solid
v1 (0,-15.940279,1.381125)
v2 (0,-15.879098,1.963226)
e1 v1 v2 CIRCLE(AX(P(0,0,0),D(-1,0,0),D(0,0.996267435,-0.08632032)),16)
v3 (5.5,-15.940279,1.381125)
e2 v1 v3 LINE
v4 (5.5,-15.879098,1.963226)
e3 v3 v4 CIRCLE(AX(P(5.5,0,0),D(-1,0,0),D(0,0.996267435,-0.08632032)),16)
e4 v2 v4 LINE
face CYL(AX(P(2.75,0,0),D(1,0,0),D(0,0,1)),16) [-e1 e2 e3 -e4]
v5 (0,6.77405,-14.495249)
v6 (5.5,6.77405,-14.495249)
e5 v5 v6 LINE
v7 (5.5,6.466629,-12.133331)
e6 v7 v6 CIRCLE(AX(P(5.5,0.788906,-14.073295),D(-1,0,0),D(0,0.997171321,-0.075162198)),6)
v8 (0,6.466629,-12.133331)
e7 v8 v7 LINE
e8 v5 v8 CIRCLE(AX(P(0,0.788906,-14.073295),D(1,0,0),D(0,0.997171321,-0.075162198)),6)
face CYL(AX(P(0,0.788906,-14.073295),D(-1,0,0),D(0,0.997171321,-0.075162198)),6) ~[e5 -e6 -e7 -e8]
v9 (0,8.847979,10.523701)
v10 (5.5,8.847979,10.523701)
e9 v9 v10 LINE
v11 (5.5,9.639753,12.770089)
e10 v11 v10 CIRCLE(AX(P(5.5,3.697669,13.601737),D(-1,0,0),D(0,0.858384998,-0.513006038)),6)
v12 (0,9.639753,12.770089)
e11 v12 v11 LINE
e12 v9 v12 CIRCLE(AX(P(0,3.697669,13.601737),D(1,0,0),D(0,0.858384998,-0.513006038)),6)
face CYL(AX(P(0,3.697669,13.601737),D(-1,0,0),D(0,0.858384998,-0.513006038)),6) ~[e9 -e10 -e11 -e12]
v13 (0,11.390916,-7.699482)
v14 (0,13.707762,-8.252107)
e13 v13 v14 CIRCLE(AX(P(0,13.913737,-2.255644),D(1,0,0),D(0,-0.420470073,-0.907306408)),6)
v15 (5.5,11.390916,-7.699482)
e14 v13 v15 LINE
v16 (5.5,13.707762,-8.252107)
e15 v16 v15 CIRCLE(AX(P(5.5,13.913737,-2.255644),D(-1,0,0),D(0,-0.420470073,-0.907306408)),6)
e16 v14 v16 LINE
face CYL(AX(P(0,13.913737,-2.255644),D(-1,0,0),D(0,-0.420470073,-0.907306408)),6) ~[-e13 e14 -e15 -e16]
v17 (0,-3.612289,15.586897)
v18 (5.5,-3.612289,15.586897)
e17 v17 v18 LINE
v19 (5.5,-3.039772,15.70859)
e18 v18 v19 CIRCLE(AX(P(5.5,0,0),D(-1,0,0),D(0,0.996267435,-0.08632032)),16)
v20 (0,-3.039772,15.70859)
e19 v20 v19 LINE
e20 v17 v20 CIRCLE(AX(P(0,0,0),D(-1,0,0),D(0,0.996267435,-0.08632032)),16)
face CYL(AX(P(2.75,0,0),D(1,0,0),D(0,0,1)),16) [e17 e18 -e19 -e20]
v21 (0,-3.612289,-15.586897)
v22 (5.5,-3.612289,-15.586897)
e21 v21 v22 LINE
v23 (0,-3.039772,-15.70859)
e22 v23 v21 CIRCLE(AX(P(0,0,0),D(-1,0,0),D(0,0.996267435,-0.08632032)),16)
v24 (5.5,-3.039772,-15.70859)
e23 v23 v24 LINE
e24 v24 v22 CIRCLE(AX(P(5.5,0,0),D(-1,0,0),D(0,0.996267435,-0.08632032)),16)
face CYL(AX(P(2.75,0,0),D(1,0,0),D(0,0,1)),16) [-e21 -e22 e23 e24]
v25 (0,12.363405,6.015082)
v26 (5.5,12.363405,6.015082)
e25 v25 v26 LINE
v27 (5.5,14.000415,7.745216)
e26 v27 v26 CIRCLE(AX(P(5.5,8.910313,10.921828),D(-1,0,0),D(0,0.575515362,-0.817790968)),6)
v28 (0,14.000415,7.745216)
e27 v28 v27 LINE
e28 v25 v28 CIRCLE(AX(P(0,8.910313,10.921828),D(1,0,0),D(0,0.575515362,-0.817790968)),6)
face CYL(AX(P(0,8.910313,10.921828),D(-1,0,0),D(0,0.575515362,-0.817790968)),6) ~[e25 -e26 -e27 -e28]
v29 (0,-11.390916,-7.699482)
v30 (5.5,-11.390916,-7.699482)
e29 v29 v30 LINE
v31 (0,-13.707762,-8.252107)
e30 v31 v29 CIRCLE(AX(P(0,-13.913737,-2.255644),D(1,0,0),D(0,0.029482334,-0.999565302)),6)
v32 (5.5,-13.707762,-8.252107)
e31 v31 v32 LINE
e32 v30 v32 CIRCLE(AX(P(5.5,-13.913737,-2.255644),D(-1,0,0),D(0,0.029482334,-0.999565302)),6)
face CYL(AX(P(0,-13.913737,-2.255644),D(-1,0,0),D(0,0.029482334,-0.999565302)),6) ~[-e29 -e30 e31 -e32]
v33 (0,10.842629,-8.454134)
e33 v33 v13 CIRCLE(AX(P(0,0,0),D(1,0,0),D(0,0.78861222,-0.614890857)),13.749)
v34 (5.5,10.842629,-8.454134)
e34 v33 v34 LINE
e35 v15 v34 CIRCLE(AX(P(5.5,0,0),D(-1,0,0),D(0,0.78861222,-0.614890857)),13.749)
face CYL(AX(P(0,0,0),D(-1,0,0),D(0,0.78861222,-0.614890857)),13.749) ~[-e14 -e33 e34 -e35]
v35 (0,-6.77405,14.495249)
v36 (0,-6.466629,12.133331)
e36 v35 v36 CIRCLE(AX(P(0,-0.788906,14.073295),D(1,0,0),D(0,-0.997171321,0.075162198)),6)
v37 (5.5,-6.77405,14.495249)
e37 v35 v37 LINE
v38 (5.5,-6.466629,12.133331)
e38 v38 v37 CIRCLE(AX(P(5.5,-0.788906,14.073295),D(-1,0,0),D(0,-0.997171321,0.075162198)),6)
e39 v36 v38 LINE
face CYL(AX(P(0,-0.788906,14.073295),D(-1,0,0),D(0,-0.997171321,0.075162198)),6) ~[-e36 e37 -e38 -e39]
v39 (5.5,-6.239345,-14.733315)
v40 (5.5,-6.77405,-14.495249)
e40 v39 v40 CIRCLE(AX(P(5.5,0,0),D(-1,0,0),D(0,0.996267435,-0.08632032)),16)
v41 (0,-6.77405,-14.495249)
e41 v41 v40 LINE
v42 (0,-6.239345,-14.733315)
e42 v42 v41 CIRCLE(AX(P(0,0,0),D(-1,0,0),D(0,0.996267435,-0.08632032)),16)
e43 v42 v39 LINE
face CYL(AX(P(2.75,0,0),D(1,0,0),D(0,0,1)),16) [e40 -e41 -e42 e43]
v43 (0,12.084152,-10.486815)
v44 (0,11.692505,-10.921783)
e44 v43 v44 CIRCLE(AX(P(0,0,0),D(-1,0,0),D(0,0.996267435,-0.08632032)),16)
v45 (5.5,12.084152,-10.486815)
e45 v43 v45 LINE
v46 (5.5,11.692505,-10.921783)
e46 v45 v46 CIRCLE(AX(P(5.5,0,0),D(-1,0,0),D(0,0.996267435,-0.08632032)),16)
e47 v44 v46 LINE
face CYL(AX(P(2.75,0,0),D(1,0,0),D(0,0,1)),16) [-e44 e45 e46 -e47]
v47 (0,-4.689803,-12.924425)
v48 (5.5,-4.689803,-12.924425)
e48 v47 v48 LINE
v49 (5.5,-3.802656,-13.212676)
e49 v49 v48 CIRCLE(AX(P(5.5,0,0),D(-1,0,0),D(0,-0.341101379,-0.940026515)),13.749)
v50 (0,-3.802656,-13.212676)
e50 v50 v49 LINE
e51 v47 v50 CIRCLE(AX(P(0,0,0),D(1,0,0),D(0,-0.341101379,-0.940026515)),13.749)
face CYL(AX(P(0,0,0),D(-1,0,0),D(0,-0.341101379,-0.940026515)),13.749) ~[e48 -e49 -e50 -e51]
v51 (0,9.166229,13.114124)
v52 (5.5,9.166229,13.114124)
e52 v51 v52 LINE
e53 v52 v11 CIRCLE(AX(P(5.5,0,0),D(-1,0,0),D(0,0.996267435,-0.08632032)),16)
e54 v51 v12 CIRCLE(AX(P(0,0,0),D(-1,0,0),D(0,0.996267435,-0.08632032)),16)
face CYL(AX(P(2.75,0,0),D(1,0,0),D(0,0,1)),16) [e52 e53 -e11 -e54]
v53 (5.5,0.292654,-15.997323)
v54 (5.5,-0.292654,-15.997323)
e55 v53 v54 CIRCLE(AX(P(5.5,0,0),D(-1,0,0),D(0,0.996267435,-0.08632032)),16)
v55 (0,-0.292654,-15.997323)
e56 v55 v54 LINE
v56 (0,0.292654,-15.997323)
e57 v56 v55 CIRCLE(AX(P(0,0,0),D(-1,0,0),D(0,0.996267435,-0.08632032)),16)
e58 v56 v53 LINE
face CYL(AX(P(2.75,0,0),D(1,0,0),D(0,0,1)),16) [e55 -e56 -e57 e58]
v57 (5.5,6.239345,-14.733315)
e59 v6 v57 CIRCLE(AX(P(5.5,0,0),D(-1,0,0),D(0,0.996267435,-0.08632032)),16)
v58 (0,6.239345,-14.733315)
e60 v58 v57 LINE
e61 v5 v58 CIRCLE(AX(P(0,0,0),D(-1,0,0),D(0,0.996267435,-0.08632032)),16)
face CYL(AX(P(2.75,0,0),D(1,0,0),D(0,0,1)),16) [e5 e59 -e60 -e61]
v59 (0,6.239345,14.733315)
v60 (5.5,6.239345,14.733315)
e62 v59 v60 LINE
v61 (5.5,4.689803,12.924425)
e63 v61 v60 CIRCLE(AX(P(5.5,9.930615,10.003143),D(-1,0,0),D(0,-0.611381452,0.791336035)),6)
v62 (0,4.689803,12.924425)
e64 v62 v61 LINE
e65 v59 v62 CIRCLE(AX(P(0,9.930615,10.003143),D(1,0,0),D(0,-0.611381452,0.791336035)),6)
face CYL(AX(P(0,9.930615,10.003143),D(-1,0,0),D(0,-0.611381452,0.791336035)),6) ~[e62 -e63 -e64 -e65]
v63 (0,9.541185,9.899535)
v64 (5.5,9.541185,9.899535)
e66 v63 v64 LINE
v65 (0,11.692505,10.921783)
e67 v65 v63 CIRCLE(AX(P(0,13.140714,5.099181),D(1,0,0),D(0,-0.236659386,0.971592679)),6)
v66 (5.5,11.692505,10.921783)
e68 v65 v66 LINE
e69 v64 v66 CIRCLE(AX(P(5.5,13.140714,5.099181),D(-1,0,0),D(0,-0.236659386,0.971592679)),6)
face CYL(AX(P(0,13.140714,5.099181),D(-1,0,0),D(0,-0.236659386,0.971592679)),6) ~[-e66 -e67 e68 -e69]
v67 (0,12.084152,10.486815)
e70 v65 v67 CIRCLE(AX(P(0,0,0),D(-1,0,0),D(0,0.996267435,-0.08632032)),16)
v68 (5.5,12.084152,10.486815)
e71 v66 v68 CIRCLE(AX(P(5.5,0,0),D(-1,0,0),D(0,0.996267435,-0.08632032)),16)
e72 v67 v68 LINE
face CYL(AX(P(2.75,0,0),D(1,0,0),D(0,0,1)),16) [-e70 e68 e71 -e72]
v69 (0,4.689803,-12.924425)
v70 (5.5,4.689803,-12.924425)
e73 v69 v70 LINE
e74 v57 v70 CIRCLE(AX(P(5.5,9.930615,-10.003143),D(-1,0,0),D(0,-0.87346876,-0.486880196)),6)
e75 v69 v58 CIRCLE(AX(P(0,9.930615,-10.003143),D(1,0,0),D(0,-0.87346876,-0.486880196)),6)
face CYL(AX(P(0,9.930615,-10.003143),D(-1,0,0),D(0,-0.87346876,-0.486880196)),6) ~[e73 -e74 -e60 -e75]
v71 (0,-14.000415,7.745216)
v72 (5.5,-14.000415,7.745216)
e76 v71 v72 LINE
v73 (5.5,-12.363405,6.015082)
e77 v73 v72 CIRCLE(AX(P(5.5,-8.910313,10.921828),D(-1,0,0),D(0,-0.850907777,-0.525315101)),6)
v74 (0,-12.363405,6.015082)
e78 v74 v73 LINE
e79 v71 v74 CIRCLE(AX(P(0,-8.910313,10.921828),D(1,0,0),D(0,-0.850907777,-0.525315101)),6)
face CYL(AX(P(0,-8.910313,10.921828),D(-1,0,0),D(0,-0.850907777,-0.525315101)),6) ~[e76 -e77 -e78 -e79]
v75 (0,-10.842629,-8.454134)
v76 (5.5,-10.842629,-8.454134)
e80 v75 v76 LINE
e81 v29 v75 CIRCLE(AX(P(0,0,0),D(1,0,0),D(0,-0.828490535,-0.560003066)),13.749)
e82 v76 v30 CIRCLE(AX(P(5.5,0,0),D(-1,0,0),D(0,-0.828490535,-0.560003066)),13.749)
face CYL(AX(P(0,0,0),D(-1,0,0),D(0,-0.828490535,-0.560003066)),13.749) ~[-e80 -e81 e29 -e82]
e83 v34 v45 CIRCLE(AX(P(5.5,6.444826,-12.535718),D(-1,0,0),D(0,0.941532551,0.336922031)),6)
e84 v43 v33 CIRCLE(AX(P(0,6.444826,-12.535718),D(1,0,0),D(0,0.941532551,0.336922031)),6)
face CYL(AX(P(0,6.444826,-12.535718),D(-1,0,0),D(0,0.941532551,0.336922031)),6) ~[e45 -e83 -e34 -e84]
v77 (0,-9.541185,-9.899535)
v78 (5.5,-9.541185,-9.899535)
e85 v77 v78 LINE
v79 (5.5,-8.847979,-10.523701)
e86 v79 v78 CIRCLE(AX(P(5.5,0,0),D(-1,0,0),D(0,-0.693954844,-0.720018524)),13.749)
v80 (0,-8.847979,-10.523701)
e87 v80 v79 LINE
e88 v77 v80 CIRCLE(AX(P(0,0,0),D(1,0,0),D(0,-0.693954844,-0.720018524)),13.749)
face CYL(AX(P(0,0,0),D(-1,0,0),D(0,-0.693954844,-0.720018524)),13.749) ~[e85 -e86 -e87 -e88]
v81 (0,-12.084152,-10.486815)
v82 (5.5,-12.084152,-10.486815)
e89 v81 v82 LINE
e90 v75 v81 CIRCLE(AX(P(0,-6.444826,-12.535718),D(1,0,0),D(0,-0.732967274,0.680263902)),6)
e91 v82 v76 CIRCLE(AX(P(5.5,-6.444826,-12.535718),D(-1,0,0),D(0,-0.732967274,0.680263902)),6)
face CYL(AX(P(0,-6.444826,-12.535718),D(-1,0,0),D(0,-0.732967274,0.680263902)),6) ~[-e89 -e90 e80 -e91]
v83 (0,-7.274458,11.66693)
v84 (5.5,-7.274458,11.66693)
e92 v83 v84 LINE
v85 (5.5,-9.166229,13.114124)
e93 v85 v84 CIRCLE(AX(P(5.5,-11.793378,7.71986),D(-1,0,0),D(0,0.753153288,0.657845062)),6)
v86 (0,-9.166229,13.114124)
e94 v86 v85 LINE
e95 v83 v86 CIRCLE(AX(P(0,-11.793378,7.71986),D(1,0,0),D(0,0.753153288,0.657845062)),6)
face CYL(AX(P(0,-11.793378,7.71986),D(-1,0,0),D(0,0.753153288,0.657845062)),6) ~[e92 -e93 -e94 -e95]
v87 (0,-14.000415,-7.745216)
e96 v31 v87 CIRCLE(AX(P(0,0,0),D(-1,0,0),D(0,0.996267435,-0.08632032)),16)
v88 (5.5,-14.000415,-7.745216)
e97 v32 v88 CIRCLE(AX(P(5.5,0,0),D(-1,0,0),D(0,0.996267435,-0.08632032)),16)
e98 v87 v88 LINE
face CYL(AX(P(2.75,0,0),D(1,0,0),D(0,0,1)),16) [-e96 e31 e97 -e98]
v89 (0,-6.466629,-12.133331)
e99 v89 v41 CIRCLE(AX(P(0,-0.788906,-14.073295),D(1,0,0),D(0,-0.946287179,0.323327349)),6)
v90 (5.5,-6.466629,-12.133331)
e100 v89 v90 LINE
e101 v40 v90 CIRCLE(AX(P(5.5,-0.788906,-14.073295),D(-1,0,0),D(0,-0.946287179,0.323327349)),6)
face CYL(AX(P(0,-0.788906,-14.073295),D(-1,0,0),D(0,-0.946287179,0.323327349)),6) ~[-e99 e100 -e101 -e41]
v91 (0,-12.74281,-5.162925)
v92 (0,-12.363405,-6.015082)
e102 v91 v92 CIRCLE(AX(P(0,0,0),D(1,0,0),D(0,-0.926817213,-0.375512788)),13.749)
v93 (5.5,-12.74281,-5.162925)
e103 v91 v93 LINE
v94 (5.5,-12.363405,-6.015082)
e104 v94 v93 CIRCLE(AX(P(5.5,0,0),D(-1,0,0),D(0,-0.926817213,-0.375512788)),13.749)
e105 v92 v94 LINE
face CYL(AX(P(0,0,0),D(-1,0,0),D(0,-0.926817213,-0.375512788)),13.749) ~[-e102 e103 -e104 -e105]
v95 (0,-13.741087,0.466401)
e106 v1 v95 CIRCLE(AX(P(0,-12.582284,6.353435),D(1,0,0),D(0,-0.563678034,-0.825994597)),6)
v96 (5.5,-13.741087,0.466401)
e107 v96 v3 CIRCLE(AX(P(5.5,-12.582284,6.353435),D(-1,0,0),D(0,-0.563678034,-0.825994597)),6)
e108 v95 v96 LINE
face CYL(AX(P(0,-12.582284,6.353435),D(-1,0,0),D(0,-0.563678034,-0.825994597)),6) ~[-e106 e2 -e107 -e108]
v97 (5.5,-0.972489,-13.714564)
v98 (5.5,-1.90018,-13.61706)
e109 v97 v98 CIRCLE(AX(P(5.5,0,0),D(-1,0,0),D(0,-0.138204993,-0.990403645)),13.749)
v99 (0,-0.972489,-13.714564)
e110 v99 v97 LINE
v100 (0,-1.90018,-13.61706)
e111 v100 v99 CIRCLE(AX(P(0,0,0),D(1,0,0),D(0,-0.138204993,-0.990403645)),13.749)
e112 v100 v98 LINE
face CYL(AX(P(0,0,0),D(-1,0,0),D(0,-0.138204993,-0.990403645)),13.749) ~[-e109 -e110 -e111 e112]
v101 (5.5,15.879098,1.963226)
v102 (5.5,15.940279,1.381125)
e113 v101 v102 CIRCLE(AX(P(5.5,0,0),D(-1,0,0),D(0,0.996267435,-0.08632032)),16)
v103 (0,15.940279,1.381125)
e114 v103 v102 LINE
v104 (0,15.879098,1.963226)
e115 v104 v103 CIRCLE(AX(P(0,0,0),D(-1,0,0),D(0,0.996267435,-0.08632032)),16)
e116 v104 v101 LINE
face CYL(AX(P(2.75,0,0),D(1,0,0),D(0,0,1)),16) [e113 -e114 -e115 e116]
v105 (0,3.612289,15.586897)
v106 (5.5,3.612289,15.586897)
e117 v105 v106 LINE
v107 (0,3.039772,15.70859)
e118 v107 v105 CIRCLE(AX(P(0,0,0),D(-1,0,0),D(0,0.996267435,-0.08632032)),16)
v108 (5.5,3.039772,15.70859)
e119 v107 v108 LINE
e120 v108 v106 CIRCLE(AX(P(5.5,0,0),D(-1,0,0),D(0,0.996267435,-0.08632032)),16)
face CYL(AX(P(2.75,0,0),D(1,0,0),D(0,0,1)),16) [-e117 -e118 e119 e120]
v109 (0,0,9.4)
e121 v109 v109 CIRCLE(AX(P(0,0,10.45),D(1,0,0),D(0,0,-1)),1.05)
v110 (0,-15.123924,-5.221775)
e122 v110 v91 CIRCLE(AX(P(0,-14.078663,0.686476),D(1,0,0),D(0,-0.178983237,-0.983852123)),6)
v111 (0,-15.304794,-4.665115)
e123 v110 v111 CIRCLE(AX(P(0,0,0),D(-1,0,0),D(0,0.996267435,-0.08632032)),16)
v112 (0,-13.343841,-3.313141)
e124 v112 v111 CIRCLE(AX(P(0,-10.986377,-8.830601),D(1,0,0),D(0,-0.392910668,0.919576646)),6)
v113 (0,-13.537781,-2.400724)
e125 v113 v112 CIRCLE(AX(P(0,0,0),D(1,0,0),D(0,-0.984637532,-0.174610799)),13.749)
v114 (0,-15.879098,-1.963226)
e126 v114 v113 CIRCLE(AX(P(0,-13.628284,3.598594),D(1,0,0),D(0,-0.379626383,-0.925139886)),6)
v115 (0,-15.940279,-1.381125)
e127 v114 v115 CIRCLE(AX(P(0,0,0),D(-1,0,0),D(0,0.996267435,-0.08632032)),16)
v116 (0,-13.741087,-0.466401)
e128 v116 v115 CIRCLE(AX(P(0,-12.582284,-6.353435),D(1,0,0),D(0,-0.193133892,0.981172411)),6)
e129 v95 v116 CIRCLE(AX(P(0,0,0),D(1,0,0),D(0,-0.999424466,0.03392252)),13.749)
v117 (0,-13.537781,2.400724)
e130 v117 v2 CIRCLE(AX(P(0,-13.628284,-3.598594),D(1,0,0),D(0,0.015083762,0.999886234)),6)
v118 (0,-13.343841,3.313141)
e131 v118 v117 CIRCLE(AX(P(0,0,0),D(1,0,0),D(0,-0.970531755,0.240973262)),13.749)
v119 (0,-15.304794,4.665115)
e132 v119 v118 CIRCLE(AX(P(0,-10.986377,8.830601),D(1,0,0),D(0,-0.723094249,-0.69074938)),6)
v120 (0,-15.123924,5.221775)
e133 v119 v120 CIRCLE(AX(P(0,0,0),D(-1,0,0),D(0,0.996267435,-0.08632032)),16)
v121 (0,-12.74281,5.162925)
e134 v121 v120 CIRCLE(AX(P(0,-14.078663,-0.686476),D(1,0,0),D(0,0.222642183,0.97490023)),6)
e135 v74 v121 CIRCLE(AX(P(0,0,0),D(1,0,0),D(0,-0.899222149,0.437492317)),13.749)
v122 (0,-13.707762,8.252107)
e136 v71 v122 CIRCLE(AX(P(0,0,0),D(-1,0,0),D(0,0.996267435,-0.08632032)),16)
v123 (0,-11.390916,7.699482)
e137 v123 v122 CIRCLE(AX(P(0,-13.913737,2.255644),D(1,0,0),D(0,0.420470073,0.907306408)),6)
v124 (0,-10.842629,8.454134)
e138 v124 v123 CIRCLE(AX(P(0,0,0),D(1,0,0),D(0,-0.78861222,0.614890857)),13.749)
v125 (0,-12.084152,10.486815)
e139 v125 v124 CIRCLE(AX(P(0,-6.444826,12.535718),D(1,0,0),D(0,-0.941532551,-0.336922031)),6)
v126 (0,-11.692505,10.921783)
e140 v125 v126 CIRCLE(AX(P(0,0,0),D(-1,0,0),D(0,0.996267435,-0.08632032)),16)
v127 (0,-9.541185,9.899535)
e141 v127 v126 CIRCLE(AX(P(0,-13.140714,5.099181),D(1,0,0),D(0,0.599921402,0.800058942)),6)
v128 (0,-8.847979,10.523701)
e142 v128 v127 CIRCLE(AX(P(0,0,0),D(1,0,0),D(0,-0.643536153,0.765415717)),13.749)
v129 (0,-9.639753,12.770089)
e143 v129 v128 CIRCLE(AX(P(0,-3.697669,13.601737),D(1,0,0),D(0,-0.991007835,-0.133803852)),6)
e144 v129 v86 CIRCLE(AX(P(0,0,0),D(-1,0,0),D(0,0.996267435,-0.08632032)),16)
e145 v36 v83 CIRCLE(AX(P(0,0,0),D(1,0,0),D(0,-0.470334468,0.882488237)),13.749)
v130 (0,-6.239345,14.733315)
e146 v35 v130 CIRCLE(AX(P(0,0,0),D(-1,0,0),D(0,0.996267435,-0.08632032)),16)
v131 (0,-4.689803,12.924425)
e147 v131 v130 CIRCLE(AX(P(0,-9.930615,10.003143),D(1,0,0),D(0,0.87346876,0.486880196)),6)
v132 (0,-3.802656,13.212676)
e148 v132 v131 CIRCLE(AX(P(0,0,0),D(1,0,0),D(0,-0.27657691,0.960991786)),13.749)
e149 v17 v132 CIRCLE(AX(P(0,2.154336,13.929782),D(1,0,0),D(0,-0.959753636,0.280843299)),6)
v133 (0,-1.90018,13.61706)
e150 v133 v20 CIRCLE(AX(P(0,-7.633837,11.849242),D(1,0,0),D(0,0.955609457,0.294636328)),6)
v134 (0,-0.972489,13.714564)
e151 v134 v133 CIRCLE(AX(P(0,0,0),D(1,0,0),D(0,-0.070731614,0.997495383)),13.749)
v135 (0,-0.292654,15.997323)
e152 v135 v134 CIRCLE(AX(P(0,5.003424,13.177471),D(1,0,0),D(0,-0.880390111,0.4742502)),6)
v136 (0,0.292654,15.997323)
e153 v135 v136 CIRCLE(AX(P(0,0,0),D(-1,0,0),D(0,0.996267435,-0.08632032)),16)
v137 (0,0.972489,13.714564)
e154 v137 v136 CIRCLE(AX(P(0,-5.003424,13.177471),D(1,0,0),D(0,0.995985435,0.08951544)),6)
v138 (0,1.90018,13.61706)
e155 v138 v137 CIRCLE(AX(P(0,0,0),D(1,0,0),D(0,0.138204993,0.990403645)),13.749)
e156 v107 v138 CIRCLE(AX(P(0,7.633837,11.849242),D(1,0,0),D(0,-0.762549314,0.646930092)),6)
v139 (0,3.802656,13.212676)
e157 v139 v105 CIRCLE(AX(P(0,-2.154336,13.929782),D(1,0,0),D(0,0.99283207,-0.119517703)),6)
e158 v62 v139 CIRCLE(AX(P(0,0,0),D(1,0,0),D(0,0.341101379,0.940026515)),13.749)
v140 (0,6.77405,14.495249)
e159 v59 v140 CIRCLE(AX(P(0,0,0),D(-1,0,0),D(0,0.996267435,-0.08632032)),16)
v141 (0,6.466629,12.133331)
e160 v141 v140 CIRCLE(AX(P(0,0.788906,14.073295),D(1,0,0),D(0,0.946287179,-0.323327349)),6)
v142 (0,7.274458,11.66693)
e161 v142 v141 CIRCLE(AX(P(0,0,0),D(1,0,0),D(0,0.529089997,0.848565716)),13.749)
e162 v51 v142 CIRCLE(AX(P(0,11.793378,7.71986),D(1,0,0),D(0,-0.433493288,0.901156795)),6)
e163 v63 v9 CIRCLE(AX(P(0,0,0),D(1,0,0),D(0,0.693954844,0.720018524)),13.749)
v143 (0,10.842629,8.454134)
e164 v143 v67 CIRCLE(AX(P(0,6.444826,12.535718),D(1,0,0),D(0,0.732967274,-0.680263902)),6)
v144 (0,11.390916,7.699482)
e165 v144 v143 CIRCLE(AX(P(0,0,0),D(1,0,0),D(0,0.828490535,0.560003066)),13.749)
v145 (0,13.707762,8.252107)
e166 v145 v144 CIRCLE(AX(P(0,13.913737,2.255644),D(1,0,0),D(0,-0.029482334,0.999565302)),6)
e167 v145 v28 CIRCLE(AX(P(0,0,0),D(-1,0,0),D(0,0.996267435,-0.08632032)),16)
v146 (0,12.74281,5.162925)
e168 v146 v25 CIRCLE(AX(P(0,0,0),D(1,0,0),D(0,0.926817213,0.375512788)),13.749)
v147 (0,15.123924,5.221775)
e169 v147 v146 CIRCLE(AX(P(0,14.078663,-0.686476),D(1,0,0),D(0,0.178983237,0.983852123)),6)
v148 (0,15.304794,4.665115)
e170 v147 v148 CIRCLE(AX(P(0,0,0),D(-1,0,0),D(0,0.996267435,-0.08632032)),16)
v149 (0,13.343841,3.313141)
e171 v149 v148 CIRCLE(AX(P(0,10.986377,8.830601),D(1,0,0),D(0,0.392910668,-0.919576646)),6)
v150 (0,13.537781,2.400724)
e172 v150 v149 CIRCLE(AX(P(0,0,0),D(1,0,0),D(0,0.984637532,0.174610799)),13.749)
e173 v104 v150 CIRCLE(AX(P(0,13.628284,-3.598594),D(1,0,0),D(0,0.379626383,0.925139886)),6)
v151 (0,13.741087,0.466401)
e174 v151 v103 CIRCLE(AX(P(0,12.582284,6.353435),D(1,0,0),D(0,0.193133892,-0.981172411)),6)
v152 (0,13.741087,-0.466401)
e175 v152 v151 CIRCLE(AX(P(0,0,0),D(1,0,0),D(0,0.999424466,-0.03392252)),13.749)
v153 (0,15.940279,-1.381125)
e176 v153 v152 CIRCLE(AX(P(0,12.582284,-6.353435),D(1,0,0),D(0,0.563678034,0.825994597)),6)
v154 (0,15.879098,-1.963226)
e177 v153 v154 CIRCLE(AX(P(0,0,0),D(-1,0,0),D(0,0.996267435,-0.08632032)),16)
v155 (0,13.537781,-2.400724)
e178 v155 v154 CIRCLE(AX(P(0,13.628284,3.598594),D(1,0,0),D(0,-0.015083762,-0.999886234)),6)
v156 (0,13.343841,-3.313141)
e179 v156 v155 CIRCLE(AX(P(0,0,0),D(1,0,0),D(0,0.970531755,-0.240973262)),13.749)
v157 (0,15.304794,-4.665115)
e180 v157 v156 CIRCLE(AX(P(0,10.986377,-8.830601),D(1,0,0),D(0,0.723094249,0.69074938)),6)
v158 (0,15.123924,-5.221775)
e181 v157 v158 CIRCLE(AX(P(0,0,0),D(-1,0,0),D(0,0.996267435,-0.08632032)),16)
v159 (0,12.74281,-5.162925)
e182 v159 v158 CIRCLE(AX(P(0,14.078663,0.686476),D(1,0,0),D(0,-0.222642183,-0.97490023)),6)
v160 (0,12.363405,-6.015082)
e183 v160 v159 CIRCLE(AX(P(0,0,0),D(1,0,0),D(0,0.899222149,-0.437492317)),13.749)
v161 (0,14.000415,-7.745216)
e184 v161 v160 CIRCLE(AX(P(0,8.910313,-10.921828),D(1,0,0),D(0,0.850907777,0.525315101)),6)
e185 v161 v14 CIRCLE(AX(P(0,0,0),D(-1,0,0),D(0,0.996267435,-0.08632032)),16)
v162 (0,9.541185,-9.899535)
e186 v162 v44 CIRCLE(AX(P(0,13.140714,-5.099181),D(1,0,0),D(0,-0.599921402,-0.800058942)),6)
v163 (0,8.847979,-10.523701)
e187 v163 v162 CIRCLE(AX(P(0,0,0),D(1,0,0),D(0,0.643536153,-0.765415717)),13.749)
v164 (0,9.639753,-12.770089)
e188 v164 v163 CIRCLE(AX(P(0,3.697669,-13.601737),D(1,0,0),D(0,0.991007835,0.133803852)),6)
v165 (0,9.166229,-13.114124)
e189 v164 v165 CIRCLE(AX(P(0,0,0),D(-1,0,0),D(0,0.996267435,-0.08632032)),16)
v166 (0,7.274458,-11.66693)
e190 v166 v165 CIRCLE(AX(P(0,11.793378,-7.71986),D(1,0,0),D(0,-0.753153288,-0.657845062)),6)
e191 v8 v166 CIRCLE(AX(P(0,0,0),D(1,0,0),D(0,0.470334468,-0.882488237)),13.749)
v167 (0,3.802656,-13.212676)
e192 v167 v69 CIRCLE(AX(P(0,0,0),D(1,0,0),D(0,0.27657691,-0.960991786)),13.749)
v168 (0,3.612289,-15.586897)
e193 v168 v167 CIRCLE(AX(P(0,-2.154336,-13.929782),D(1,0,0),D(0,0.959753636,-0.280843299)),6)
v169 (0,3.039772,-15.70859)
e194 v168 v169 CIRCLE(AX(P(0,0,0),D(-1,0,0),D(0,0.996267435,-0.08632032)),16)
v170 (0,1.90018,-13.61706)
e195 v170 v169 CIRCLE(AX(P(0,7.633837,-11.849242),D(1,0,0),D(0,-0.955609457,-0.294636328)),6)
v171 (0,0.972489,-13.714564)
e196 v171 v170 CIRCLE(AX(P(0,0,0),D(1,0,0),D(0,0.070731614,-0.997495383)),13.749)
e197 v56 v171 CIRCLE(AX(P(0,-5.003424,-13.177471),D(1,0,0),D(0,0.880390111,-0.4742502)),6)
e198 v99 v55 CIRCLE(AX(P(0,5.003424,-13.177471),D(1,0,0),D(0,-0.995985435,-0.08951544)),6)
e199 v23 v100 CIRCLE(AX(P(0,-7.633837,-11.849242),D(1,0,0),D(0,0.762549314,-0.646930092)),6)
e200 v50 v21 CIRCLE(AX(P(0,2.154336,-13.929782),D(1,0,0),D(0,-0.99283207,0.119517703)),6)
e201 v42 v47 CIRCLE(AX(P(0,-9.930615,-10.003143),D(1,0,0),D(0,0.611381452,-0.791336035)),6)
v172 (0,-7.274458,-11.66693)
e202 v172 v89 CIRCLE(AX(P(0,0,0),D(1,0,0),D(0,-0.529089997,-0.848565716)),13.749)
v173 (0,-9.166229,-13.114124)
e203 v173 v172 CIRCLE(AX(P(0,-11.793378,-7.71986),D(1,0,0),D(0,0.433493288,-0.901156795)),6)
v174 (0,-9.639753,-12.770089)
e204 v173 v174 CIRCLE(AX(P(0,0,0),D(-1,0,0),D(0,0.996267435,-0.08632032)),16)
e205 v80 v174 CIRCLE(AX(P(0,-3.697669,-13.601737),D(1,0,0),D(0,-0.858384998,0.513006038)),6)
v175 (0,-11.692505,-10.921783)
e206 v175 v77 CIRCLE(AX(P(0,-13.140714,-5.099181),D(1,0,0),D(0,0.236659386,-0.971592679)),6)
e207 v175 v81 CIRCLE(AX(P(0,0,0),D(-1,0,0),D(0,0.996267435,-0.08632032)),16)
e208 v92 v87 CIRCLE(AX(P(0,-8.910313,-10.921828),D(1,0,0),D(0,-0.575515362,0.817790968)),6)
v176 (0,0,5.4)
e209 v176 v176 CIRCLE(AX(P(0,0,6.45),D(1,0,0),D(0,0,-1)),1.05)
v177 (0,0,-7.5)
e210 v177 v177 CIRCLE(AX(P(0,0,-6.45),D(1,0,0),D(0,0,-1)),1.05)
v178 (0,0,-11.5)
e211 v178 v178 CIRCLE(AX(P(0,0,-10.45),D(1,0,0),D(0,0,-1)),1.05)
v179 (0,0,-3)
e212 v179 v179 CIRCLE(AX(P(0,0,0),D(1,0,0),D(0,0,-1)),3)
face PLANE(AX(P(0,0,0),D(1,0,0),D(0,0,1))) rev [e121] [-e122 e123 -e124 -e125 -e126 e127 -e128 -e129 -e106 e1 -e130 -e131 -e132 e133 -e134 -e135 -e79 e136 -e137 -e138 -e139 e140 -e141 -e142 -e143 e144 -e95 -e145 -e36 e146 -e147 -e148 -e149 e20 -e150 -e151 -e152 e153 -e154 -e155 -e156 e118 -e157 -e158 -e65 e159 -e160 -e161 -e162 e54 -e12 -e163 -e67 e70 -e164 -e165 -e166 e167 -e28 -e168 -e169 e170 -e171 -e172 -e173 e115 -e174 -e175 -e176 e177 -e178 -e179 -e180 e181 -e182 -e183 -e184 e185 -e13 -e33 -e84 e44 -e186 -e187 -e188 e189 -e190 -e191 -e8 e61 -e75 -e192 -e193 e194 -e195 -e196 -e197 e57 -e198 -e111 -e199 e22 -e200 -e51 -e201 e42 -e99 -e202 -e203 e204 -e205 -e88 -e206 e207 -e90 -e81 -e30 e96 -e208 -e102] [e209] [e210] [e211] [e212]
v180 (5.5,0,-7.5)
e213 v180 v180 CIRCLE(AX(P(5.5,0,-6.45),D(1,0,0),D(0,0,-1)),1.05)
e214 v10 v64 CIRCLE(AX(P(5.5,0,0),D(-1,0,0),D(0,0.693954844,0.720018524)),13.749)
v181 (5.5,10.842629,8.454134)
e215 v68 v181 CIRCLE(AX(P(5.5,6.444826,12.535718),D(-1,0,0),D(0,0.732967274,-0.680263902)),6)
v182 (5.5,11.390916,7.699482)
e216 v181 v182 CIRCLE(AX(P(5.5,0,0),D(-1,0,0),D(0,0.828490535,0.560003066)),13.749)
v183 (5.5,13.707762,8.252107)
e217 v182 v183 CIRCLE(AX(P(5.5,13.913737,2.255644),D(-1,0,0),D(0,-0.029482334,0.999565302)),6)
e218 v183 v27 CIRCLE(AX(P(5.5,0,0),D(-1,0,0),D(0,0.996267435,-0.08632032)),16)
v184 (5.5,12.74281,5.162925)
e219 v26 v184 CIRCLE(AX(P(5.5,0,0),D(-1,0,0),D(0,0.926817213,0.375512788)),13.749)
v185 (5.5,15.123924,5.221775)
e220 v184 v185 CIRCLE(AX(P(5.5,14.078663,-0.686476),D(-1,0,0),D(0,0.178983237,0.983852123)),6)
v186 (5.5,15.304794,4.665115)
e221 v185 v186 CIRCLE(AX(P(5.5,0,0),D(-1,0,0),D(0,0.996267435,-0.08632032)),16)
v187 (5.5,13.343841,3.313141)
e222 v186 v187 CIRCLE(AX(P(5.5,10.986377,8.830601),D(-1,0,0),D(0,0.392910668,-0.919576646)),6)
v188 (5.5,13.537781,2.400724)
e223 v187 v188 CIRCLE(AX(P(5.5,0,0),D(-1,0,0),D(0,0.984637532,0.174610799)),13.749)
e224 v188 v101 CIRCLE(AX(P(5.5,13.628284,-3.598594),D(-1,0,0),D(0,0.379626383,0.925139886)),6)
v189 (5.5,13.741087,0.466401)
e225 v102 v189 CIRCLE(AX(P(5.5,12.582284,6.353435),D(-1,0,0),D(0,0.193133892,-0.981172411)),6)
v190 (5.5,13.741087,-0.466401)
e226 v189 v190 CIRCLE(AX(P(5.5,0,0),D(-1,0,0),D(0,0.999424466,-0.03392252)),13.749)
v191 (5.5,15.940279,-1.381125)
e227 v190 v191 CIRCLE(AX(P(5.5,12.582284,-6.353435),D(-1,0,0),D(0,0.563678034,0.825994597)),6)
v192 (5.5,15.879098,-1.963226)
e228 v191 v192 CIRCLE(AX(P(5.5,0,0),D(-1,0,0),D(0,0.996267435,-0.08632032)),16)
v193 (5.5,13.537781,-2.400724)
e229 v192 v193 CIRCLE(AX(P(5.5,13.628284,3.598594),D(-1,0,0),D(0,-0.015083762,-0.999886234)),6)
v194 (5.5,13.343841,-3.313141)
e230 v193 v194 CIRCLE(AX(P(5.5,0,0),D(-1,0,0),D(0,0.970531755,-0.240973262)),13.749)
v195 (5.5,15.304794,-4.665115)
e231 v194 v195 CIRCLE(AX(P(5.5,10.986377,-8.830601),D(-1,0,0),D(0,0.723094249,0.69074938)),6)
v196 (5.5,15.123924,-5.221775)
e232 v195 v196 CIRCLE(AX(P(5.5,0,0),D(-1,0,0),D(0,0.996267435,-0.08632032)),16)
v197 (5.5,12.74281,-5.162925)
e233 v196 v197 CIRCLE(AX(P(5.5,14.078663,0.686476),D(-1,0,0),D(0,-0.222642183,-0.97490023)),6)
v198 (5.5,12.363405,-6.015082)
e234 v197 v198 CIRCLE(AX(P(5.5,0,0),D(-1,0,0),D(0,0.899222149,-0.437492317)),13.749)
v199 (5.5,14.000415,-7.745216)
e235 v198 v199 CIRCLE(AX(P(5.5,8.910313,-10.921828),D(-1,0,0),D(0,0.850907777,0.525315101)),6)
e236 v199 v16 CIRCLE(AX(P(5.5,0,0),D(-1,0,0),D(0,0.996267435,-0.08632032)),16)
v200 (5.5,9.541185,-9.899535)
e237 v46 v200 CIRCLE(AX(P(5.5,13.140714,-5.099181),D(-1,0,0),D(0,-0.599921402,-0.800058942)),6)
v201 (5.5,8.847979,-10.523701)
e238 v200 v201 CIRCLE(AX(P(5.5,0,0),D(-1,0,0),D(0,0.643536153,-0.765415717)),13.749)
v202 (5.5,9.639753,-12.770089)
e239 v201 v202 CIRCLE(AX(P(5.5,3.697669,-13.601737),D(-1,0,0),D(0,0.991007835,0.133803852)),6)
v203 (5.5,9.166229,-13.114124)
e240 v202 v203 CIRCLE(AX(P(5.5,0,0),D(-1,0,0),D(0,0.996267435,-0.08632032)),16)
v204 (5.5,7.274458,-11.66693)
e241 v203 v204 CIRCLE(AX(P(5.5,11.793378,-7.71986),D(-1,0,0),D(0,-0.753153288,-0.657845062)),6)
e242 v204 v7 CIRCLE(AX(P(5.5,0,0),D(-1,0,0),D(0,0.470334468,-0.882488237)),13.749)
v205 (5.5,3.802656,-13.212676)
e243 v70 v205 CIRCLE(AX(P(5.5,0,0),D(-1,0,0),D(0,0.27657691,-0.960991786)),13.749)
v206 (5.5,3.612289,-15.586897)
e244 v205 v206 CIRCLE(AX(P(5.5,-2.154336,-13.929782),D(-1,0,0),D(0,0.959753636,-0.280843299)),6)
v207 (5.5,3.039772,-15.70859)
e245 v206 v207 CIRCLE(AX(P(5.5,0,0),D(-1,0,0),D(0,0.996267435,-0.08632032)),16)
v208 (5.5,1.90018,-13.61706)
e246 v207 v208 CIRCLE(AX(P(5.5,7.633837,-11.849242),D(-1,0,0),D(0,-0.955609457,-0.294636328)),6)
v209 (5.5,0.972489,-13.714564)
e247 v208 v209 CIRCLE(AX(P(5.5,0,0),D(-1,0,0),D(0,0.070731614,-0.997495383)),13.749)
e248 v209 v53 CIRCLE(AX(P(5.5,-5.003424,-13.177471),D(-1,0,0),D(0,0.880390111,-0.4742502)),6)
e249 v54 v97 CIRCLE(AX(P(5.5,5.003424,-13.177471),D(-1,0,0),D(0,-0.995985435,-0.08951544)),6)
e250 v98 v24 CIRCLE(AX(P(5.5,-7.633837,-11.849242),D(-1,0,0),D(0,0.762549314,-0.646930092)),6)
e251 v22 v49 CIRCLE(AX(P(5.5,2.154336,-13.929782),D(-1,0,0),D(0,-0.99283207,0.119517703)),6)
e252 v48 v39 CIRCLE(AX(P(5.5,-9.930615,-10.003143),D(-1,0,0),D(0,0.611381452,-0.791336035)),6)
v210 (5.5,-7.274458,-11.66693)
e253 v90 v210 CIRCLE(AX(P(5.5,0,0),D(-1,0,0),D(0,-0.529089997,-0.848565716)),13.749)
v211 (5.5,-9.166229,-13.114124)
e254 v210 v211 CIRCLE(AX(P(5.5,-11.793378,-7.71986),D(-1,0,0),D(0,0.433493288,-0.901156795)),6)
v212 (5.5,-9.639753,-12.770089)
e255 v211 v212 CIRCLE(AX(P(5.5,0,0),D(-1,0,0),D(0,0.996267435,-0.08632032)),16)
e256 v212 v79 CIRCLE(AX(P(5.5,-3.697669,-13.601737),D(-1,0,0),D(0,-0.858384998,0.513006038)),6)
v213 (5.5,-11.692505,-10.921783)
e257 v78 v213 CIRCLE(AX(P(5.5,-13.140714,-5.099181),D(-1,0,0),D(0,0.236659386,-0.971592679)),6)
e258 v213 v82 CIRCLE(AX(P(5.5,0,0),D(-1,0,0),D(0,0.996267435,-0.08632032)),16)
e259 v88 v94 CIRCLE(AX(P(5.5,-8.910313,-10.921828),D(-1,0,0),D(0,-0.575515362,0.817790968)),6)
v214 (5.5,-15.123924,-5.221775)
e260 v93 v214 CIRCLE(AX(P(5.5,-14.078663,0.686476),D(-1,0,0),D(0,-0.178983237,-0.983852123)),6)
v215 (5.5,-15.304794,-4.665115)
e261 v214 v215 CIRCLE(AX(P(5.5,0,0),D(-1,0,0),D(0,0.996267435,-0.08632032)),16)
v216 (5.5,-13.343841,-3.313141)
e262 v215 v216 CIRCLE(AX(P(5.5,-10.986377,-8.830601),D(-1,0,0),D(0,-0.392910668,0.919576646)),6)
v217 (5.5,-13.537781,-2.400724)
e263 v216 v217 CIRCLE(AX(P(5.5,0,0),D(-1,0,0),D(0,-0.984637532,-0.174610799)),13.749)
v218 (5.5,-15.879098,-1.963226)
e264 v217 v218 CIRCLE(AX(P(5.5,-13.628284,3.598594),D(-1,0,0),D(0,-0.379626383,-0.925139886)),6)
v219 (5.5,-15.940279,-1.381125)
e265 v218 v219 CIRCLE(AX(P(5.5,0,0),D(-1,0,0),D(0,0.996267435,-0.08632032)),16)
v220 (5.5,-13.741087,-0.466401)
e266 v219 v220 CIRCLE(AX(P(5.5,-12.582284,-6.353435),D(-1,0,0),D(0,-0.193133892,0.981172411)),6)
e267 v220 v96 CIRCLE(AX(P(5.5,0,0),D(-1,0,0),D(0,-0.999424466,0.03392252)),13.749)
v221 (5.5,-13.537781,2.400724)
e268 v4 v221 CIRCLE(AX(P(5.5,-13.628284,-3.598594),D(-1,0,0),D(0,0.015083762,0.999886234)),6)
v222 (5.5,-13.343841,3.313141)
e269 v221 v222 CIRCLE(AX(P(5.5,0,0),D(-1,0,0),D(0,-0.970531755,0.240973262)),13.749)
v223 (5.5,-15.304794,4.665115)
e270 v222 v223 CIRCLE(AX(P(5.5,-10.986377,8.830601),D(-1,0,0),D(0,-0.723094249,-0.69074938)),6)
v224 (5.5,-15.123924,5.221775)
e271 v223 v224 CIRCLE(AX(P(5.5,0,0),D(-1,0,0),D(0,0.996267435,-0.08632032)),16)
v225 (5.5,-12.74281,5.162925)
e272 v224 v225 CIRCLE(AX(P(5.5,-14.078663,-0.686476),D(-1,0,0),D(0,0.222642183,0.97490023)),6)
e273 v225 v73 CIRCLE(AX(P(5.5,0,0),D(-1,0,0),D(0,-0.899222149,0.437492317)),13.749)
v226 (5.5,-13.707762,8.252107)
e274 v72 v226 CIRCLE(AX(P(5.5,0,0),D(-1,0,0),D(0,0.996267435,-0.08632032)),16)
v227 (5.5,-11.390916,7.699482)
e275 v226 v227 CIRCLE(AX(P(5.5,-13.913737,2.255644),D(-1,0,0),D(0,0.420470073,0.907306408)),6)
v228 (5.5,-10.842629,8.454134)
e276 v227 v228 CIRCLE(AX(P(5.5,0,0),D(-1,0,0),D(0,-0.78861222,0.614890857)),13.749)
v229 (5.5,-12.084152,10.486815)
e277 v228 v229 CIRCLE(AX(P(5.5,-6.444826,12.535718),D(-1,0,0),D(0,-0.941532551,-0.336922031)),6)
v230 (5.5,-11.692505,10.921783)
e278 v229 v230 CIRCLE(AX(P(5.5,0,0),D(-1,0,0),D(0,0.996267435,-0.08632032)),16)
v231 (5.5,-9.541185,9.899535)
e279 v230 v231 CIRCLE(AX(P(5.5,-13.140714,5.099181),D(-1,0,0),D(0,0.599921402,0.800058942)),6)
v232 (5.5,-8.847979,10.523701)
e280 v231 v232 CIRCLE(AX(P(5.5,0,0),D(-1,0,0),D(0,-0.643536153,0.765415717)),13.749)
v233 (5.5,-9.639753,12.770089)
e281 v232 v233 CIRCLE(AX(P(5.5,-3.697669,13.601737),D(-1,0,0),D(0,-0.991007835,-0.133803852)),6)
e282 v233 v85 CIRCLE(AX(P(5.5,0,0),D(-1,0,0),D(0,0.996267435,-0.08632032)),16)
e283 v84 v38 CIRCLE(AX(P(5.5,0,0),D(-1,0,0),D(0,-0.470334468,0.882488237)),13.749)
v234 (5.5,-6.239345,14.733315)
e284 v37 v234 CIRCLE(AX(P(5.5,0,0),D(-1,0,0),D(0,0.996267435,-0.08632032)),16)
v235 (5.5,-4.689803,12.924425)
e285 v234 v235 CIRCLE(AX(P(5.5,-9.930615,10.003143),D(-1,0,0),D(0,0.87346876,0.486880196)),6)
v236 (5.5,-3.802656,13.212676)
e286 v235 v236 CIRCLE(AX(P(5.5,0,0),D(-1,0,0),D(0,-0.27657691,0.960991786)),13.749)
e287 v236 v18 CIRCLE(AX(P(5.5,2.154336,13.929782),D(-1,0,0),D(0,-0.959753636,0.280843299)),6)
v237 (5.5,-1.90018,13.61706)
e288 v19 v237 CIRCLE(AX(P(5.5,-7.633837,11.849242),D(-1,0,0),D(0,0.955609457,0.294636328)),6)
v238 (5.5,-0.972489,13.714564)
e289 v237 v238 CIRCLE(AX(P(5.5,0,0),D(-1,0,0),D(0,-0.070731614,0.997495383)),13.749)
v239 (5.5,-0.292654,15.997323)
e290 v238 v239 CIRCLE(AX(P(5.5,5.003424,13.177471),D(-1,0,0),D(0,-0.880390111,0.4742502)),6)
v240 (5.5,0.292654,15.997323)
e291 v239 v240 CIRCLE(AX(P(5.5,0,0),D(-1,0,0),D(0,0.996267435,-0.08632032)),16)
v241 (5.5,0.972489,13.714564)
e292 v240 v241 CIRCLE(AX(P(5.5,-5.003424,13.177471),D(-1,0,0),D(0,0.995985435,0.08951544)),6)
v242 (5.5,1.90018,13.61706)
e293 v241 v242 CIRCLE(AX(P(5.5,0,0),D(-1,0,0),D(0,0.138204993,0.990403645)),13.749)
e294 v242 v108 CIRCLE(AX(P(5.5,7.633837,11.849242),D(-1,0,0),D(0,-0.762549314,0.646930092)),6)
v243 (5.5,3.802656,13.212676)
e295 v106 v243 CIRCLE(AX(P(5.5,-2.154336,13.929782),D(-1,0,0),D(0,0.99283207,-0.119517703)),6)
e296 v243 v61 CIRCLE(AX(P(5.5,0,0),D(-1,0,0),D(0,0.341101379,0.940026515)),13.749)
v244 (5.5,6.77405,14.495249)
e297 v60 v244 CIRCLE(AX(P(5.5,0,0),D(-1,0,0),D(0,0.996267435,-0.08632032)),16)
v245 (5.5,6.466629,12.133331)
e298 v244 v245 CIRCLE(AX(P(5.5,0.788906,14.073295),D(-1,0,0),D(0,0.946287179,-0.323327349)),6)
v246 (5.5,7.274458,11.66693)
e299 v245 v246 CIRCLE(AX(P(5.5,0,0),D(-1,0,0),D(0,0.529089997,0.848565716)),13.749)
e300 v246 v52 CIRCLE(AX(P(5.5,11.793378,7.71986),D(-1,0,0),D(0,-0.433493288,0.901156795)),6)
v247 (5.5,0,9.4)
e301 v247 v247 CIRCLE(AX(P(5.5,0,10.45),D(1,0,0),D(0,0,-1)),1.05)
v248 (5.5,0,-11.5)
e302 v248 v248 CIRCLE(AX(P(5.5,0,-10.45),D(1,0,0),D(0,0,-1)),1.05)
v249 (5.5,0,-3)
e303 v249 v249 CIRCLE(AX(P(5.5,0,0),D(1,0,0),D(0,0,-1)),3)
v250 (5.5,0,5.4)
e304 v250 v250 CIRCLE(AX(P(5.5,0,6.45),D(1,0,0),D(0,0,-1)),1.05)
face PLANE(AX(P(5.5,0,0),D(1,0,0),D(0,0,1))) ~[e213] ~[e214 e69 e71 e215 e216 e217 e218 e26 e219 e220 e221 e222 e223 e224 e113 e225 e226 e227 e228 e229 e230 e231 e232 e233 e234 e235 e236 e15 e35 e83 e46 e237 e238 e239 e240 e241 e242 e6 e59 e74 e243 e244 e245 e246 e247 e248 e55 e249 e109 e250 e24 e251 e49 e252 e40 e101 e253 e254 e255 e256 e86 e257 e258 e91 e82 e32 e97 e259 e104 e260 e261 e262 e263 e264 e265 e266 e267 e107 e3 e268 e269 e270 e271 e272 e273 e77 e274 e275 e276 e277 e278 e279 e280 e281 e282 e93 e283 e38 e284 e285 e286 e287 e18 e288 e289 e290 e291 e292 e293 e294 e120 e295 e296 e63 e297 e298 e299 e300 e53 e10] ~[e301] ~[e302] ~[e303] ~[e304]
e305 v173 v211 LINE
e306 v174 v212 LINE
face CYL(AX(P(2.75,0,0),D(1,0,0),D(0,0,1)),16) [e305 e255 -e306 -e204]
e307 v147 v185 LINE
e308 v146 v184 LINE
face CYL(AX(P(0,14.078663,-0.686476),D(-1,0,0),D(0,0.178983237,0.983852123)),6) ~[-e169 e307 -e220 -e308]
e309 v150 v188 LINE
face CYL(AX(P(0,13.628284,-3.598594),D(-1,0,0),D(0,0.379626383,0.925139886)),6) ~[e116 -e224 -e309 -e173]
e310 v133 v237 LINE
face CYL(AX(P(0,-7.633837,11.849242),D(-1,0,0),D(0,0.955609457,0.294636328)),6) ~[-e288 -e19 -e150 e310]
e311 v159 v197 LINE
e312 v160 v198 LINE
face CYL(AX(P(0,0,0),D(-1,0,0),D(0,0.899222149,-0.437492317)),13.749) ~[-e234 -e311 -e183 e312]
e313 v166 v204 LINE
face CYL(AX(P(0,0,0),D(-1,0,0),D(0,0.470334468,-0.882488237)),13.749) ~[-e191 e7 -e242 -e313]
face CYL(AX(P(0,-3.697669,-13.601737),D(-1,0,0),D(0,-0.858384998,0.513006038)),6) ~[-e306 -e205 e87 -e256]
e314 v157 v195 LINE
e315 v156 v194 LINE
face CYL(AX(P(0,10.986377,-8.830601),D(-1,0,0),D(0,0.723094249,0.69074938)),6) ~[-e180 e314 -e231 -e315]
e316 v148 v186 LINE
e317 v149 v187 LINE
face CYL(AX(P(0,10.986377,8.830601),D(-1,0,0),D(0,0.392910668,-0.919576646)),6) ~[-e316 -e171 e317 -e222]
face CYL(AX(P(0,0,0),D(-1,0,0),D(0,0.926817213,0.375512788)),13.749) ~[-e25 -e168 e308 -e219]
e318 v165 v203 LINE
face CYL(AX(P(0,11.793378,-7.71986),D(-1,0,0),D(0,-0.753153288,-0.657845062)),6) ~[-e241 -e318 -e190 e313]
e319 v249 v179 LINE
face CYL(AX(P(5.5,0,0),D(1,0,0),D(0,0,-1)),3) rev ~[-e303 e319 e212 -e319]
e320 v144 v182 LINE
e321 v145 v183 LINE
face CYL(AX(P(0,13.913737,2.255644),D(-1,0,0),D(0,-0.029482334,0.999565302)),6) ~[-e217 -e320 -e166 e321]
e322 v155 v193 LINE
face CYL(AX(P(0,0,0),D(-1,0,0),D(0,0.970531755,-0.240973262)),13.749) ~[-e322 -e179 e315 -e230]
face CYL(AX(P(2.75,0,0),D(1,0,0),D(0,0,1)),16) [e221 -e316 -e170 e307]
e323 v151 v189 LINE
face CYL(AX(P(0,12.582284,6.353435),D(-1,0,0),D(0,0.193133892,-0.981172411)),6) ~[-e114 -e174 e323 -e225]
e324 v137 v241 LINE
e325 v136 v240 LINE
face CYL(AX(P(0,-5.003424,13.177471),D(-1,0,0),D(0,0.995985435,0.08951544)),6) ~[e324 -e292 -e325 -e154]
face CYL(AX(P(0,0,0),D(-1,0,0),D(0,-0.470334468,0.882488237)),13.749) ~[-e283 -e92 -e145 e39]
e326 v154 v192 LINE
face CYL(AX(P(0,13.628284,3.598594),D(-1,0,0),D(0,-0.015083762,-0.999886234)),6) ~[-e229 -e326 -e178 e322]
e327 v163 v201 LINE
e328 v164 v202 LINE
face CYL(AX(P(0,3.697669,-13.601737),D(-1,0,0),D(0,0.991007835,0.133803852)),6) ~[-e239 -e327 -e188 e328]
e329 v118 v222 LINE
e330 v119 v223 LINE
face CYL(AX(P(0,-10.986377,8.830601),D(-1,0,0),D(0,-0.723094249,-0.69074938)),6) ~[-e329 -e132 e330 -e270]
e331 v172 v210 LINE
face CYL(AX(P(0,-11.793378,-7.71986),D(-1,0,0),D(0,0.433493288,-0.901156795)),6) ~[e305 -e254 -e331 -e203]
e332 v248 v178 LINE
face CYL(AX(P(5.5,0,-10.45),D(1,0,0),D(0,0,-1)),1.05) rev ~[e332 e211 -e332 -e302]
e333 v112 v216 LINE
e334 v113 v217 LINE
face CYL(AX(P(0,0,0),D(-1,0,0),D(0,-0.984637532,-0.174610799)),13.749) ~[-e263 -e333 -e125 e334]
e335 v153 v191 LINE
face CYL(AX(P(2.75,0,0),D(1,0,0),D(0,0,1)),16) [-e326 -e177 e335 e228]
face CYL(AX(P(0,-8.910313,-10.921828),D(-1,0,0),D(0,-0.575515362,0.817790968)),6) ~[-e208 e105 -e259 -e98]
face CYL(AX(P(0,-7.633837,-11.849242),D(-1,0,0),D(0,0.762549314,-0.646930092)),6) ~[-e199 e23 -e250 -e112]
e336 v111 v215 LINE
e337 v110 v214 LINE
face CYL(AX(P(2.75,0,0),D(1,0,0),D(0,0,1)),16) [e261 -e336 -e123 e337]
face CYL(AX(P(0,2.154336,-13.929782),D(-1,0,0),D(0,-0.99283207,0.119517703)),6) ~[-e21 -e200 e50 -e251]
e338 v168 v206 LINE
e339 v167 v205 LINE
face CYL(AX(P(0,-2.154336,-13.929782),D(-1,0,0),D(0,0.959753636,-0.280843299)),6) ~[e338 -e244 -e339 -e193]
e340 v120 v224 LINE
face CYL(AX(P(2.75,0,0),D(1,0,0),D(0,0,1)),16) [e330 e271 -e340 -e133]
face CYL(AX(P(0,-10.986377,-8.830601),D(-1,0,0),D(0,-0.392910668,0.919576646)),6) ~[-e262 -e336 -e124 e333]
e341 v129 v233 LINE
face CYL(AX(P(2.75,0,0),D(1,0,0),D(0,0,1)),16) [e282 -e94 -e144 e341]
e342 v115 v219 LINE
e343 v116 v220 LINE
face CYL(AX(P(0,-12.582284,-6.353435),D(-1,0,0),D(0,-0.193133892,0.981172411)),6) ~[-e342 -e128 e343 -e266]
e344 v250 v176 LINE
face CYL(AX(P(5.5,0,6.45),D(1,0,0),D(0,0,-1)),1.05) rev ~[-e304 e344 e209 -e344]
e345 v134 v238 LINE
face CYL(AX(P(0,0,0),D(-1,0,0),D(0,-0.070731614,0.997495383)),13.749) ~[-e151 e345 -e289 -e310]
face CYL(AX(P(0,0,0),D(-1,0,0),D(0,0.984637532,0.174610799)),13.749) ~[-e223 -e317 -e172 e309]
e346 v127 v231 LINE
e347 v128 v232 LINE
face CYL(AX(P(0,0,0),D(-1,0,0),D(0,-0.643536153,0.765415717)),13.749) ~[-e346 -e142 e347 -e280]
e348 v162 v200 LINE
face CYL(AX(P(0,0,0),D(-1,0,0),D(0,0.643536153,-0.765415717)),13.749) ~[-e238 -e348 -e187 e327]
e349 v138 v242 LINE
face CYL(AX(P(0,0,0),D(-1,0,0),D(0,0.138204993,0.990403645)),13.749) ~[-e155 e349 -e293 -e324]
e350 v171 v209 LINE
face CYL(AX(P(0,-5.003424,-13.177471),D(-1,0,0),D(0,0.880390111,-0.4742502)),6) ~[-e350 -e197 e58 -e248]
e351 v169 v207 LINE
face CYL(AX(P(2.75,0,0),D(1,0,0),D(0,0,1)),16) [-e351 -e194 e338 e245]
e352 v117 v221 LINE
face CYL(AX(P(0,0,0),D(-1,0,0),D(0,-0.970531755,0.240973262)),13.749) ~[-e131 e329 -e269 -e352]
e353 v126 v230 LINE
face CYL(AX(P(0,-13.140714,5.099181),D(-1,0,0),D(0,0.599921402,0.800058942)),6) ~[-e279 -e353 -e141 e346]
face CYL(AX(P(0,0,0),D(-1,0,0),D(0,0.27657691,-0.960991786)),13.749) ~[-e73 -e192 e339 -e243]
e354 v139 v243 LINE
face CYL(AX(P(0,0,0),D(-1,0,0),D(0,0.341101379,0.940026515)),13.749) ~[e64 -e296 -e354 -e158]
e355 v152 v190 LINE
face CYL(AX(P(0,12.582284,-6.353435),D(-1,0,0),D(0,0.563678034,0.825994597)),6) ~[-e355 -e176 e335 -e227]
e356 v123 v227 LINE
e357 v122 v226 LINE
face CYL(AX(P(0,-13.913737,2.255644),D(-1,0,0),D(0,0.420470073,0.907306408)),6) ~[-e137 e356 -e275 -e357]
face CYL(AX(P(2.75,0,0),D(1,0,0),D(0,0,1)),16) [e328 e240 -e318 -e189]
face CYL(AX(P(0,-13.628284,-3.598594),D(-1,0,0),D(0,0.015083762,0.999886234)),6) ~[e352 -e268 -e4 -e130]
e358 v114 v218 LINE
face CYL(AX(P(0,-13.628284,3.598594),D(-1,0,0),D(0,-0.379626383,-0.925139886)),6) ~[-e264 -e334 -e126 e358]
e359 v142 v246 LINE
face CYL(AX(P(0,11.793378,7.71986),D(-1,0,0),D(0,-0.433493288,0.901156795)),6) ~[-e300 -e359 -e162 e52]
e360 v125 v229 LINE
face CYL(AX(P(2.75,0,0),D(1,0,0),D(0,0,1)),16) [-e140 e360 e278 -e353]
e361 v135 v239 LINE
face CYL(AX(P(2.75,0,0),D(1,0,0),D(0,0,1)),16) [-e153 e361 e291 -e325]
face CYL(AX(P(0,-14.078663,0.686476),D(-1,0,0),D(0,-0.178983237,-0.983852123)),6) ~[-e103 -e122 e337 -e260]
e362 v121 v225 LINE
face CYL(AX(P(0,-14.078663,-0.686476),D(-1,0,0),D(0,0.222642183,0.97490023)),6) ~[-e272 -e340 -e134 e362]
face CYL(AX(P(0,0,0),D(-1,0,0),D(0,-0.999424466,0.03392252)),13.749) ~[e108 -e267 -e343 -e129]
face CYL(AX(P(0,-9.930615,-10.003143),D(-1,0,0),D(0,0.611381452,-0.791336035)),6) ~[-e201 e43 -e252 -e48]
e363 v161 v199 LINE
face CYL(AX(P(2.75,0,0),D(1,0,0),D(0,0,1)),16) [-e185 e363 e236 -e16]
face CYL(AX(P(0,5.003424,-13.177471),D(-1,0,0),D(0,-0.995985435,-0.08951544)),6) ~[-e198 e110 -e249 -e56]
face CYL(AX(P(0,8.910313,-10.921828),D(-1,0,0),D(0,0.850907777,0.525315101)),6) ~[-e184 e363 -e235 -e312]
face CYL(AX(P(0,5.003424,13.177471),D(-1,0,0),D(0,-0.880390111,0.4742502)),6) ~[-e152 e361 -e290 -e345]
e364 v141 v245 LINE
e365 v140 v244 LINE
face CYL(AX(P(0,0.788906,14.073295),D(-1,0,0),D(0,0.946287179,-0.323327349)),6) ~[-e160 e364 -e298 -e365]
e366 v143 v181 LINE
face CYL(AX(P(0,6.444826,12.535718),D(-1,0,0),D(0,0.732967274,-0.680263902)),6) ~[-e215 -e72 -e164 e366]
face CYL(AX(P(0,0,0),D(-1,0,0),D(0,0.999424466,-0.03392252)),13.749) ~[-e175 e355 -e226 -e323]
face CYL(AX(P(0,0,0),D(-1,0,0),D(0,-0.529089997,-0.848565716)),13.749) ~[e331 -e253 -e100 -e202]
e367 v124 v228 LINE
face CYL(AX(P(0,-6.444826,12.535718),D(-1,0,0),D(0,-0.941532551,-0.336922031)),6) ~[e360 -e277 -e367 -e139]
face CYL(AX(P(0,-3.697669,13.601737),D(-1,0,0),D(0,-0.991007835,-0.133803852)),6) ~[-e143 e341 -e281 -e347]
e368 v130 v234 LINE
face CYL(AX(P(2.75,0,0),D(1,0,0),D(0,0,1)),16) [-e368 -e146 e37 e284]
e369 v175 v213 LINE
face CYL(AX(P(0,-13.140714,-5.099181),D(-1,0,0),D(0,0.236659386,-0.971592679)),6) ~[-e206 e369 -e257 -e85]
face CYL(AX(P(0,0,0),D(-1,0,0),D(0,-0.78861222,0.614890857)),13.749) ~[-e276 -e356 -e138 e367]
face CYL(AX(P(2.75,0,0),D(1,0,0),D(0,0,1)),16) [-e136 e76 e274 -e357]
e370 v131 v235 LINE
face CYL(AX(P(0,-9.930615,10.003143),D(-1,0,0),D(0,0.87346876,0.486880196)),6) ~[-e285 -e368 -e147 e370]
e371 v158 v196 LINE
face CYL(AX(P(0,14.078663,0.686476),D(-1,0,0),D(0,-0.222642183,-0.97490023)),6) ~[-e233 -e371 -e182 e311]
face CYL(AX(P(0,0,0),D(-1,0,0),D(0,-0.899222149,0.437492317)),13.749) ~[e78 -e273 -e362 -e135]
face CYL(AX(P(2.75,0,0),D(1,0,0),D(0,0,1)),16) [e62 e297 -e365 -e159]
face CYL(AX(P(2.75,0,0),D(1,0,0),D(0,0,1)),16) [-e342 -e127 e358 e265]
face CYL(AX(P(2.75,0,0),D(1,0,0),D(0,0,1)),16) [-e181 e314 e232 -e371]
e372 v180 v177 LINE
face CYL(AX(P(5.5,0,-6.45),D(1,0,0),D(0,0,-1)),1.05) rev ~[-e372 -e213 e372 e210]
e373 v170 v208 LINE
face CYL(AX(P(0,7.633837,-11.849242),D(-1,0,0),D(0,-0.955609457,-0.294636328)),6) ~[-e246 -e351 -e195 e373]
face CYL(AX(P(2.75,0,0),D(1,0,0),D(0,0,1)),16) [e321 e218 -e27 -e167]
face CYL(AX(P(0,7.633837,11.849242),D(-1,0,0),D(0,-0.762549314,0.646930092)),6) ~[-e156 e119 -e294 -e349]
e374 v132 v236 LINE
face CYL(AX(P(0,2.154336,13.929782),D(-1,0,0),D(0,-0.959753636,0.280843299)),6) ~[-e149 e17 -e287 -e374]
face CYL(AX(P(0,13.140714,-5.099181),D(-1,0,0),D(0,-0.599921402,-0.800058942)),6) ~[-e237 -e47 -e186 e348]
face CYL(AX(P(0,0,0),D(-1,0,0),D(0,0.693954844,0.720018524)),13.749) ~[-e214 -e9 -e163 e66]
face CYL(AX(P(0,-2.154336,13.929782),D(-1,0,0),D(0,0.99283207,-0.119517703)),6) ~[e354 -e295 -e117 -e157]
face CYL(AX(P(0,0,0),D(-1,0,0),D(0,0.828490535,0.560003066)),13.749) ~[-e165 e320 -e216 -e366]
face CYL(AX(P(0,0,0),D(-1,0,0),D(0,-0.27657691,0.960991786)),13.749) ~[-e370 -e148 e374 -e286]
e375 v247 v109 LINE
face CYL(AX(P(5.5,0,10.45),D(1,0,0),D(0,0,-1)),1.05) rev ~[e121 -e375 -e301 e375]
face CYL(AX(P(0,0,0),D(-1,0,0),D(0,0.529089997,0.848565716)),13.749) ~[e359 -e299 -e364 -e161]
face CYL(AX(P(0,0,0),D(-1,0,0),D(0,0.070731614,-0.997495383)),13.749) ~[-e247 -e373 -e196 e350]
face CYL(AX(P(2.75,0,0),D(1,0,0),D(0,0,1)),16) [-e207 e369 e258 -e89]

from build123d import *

# Parameters (mm, degrees)
BASPROSKE_W         = 5.5
BASPROSKE_H         = 16
TOOTHCUT_DEPTH      = 24.286262044
TEETHCUTS_COUNT     = 30
TEETHCUTS_ANGLE     = 348
BORSKE_R            = 0.5
BORE_DEPTH          = 50.0000508
SKETCH_1_R          = 3
SKETCH_1_R_2        = 1.05
CUT_EXTRUDE_1_DEPTH = 24.245268194


with BuildPart() as part:
    # BasProSke → Base-Revolve (revolve)
    with BuildSketch(Plane(origin=(0, 0, 0), x_dir=(1, 0, 0), z_dir=(0, 1, 0)), mode=Mode.PRIVATE) as base_revolve_sk:
        with Locations((2.75, 8)):
            Rectangle(BASPROSKE_W, BASPROSKE_H)
    revolve(base_revolve_sk.sketch.rotate(Axis((-10, 0, 0), (1, 0, 0)), 180), axis=Axis((-10, 0, 0), (1, 0, 0)))

    # TooCutSke → ToothCut (cut, through all)
    with BuildSketch(Plane(origin=(0, 0, 0), x_dir=(0, 0, -1), z_dir=(1, 0, 0))):
        with BuildLine():
            ThreePointArc((0.466400716, 13.741086979), (0, 13.749), (-0.466400716, 13.741086979))
            ThreePointArc((-0.466400716, 13.741086979), (-0.819142092, 14.899954875), (-1.3974676, 15.964351834))
            ThreePointArc((-1.3974676, 15.964351834), (0, 16.0254), (1.3974676, 15.964351834))
            ThreePointArc((1.3974676, 15.964351834), (0.819142092, 14.899954875), (0.466400716, 13.741086979))
        make_face()
    toothcut = extrude(amount=TOOTHCUT_DEPTH, mode=Mode.SUBTRACT)

    # TeethCuts: ToothCut ×30 about axis
    teethcuts_axis = Axis((-10, 0, 0), (1, 0, 0))
    for i in range(1, TEETHCUTS_COUNT):
        add(toothcut.rotate(teethcuts_axis, i * TEETHCUTS_ANGLE / (TEETHCUTS_COUNT - 1)), mode=Mode.SUBTRACT)

    # BorSke → Bore (cut, symmetric)
    with BuildSketch(Plane(origin=(0, 0, 0), x_dir=(0, 0, -1), z_dir=(1, 0, 0))):
        with Locations(Location((0, 0, 0), (0, 0, 180))):
            Circle(BORSKE_R)
    extrude(amount=BORE_DEPTH, both=True, mode=Mode.SUBTRACT)

    # ｽｹｯﾁ1 → ｶｯﾄ - 押し出し1 (cut, through all)
    with BuildSketch(Plane(origin=(5.5, 0, 0), x_dir=(0, 0, -1), z_dir=(1, 0, 0))):
        Circle(SKETCH_1_R)
        with Locations((6.45, 0)):
            Circle(SKETCH_1_R_2)
        with Locations((10.45, 0)):
            Circle(SKETCH_1_R_2)
        with Locations((-6.45, 0)):
            Circle(SKETCH_1_R_2)
        with Locations((-10.45, 0)):
            Circle(SKETCH_1_R_2)
    extrude(amount=-CUT_EXTRUDE_1_DEPTH, mode=Mode.SUBTRACT)


solid = part.part
